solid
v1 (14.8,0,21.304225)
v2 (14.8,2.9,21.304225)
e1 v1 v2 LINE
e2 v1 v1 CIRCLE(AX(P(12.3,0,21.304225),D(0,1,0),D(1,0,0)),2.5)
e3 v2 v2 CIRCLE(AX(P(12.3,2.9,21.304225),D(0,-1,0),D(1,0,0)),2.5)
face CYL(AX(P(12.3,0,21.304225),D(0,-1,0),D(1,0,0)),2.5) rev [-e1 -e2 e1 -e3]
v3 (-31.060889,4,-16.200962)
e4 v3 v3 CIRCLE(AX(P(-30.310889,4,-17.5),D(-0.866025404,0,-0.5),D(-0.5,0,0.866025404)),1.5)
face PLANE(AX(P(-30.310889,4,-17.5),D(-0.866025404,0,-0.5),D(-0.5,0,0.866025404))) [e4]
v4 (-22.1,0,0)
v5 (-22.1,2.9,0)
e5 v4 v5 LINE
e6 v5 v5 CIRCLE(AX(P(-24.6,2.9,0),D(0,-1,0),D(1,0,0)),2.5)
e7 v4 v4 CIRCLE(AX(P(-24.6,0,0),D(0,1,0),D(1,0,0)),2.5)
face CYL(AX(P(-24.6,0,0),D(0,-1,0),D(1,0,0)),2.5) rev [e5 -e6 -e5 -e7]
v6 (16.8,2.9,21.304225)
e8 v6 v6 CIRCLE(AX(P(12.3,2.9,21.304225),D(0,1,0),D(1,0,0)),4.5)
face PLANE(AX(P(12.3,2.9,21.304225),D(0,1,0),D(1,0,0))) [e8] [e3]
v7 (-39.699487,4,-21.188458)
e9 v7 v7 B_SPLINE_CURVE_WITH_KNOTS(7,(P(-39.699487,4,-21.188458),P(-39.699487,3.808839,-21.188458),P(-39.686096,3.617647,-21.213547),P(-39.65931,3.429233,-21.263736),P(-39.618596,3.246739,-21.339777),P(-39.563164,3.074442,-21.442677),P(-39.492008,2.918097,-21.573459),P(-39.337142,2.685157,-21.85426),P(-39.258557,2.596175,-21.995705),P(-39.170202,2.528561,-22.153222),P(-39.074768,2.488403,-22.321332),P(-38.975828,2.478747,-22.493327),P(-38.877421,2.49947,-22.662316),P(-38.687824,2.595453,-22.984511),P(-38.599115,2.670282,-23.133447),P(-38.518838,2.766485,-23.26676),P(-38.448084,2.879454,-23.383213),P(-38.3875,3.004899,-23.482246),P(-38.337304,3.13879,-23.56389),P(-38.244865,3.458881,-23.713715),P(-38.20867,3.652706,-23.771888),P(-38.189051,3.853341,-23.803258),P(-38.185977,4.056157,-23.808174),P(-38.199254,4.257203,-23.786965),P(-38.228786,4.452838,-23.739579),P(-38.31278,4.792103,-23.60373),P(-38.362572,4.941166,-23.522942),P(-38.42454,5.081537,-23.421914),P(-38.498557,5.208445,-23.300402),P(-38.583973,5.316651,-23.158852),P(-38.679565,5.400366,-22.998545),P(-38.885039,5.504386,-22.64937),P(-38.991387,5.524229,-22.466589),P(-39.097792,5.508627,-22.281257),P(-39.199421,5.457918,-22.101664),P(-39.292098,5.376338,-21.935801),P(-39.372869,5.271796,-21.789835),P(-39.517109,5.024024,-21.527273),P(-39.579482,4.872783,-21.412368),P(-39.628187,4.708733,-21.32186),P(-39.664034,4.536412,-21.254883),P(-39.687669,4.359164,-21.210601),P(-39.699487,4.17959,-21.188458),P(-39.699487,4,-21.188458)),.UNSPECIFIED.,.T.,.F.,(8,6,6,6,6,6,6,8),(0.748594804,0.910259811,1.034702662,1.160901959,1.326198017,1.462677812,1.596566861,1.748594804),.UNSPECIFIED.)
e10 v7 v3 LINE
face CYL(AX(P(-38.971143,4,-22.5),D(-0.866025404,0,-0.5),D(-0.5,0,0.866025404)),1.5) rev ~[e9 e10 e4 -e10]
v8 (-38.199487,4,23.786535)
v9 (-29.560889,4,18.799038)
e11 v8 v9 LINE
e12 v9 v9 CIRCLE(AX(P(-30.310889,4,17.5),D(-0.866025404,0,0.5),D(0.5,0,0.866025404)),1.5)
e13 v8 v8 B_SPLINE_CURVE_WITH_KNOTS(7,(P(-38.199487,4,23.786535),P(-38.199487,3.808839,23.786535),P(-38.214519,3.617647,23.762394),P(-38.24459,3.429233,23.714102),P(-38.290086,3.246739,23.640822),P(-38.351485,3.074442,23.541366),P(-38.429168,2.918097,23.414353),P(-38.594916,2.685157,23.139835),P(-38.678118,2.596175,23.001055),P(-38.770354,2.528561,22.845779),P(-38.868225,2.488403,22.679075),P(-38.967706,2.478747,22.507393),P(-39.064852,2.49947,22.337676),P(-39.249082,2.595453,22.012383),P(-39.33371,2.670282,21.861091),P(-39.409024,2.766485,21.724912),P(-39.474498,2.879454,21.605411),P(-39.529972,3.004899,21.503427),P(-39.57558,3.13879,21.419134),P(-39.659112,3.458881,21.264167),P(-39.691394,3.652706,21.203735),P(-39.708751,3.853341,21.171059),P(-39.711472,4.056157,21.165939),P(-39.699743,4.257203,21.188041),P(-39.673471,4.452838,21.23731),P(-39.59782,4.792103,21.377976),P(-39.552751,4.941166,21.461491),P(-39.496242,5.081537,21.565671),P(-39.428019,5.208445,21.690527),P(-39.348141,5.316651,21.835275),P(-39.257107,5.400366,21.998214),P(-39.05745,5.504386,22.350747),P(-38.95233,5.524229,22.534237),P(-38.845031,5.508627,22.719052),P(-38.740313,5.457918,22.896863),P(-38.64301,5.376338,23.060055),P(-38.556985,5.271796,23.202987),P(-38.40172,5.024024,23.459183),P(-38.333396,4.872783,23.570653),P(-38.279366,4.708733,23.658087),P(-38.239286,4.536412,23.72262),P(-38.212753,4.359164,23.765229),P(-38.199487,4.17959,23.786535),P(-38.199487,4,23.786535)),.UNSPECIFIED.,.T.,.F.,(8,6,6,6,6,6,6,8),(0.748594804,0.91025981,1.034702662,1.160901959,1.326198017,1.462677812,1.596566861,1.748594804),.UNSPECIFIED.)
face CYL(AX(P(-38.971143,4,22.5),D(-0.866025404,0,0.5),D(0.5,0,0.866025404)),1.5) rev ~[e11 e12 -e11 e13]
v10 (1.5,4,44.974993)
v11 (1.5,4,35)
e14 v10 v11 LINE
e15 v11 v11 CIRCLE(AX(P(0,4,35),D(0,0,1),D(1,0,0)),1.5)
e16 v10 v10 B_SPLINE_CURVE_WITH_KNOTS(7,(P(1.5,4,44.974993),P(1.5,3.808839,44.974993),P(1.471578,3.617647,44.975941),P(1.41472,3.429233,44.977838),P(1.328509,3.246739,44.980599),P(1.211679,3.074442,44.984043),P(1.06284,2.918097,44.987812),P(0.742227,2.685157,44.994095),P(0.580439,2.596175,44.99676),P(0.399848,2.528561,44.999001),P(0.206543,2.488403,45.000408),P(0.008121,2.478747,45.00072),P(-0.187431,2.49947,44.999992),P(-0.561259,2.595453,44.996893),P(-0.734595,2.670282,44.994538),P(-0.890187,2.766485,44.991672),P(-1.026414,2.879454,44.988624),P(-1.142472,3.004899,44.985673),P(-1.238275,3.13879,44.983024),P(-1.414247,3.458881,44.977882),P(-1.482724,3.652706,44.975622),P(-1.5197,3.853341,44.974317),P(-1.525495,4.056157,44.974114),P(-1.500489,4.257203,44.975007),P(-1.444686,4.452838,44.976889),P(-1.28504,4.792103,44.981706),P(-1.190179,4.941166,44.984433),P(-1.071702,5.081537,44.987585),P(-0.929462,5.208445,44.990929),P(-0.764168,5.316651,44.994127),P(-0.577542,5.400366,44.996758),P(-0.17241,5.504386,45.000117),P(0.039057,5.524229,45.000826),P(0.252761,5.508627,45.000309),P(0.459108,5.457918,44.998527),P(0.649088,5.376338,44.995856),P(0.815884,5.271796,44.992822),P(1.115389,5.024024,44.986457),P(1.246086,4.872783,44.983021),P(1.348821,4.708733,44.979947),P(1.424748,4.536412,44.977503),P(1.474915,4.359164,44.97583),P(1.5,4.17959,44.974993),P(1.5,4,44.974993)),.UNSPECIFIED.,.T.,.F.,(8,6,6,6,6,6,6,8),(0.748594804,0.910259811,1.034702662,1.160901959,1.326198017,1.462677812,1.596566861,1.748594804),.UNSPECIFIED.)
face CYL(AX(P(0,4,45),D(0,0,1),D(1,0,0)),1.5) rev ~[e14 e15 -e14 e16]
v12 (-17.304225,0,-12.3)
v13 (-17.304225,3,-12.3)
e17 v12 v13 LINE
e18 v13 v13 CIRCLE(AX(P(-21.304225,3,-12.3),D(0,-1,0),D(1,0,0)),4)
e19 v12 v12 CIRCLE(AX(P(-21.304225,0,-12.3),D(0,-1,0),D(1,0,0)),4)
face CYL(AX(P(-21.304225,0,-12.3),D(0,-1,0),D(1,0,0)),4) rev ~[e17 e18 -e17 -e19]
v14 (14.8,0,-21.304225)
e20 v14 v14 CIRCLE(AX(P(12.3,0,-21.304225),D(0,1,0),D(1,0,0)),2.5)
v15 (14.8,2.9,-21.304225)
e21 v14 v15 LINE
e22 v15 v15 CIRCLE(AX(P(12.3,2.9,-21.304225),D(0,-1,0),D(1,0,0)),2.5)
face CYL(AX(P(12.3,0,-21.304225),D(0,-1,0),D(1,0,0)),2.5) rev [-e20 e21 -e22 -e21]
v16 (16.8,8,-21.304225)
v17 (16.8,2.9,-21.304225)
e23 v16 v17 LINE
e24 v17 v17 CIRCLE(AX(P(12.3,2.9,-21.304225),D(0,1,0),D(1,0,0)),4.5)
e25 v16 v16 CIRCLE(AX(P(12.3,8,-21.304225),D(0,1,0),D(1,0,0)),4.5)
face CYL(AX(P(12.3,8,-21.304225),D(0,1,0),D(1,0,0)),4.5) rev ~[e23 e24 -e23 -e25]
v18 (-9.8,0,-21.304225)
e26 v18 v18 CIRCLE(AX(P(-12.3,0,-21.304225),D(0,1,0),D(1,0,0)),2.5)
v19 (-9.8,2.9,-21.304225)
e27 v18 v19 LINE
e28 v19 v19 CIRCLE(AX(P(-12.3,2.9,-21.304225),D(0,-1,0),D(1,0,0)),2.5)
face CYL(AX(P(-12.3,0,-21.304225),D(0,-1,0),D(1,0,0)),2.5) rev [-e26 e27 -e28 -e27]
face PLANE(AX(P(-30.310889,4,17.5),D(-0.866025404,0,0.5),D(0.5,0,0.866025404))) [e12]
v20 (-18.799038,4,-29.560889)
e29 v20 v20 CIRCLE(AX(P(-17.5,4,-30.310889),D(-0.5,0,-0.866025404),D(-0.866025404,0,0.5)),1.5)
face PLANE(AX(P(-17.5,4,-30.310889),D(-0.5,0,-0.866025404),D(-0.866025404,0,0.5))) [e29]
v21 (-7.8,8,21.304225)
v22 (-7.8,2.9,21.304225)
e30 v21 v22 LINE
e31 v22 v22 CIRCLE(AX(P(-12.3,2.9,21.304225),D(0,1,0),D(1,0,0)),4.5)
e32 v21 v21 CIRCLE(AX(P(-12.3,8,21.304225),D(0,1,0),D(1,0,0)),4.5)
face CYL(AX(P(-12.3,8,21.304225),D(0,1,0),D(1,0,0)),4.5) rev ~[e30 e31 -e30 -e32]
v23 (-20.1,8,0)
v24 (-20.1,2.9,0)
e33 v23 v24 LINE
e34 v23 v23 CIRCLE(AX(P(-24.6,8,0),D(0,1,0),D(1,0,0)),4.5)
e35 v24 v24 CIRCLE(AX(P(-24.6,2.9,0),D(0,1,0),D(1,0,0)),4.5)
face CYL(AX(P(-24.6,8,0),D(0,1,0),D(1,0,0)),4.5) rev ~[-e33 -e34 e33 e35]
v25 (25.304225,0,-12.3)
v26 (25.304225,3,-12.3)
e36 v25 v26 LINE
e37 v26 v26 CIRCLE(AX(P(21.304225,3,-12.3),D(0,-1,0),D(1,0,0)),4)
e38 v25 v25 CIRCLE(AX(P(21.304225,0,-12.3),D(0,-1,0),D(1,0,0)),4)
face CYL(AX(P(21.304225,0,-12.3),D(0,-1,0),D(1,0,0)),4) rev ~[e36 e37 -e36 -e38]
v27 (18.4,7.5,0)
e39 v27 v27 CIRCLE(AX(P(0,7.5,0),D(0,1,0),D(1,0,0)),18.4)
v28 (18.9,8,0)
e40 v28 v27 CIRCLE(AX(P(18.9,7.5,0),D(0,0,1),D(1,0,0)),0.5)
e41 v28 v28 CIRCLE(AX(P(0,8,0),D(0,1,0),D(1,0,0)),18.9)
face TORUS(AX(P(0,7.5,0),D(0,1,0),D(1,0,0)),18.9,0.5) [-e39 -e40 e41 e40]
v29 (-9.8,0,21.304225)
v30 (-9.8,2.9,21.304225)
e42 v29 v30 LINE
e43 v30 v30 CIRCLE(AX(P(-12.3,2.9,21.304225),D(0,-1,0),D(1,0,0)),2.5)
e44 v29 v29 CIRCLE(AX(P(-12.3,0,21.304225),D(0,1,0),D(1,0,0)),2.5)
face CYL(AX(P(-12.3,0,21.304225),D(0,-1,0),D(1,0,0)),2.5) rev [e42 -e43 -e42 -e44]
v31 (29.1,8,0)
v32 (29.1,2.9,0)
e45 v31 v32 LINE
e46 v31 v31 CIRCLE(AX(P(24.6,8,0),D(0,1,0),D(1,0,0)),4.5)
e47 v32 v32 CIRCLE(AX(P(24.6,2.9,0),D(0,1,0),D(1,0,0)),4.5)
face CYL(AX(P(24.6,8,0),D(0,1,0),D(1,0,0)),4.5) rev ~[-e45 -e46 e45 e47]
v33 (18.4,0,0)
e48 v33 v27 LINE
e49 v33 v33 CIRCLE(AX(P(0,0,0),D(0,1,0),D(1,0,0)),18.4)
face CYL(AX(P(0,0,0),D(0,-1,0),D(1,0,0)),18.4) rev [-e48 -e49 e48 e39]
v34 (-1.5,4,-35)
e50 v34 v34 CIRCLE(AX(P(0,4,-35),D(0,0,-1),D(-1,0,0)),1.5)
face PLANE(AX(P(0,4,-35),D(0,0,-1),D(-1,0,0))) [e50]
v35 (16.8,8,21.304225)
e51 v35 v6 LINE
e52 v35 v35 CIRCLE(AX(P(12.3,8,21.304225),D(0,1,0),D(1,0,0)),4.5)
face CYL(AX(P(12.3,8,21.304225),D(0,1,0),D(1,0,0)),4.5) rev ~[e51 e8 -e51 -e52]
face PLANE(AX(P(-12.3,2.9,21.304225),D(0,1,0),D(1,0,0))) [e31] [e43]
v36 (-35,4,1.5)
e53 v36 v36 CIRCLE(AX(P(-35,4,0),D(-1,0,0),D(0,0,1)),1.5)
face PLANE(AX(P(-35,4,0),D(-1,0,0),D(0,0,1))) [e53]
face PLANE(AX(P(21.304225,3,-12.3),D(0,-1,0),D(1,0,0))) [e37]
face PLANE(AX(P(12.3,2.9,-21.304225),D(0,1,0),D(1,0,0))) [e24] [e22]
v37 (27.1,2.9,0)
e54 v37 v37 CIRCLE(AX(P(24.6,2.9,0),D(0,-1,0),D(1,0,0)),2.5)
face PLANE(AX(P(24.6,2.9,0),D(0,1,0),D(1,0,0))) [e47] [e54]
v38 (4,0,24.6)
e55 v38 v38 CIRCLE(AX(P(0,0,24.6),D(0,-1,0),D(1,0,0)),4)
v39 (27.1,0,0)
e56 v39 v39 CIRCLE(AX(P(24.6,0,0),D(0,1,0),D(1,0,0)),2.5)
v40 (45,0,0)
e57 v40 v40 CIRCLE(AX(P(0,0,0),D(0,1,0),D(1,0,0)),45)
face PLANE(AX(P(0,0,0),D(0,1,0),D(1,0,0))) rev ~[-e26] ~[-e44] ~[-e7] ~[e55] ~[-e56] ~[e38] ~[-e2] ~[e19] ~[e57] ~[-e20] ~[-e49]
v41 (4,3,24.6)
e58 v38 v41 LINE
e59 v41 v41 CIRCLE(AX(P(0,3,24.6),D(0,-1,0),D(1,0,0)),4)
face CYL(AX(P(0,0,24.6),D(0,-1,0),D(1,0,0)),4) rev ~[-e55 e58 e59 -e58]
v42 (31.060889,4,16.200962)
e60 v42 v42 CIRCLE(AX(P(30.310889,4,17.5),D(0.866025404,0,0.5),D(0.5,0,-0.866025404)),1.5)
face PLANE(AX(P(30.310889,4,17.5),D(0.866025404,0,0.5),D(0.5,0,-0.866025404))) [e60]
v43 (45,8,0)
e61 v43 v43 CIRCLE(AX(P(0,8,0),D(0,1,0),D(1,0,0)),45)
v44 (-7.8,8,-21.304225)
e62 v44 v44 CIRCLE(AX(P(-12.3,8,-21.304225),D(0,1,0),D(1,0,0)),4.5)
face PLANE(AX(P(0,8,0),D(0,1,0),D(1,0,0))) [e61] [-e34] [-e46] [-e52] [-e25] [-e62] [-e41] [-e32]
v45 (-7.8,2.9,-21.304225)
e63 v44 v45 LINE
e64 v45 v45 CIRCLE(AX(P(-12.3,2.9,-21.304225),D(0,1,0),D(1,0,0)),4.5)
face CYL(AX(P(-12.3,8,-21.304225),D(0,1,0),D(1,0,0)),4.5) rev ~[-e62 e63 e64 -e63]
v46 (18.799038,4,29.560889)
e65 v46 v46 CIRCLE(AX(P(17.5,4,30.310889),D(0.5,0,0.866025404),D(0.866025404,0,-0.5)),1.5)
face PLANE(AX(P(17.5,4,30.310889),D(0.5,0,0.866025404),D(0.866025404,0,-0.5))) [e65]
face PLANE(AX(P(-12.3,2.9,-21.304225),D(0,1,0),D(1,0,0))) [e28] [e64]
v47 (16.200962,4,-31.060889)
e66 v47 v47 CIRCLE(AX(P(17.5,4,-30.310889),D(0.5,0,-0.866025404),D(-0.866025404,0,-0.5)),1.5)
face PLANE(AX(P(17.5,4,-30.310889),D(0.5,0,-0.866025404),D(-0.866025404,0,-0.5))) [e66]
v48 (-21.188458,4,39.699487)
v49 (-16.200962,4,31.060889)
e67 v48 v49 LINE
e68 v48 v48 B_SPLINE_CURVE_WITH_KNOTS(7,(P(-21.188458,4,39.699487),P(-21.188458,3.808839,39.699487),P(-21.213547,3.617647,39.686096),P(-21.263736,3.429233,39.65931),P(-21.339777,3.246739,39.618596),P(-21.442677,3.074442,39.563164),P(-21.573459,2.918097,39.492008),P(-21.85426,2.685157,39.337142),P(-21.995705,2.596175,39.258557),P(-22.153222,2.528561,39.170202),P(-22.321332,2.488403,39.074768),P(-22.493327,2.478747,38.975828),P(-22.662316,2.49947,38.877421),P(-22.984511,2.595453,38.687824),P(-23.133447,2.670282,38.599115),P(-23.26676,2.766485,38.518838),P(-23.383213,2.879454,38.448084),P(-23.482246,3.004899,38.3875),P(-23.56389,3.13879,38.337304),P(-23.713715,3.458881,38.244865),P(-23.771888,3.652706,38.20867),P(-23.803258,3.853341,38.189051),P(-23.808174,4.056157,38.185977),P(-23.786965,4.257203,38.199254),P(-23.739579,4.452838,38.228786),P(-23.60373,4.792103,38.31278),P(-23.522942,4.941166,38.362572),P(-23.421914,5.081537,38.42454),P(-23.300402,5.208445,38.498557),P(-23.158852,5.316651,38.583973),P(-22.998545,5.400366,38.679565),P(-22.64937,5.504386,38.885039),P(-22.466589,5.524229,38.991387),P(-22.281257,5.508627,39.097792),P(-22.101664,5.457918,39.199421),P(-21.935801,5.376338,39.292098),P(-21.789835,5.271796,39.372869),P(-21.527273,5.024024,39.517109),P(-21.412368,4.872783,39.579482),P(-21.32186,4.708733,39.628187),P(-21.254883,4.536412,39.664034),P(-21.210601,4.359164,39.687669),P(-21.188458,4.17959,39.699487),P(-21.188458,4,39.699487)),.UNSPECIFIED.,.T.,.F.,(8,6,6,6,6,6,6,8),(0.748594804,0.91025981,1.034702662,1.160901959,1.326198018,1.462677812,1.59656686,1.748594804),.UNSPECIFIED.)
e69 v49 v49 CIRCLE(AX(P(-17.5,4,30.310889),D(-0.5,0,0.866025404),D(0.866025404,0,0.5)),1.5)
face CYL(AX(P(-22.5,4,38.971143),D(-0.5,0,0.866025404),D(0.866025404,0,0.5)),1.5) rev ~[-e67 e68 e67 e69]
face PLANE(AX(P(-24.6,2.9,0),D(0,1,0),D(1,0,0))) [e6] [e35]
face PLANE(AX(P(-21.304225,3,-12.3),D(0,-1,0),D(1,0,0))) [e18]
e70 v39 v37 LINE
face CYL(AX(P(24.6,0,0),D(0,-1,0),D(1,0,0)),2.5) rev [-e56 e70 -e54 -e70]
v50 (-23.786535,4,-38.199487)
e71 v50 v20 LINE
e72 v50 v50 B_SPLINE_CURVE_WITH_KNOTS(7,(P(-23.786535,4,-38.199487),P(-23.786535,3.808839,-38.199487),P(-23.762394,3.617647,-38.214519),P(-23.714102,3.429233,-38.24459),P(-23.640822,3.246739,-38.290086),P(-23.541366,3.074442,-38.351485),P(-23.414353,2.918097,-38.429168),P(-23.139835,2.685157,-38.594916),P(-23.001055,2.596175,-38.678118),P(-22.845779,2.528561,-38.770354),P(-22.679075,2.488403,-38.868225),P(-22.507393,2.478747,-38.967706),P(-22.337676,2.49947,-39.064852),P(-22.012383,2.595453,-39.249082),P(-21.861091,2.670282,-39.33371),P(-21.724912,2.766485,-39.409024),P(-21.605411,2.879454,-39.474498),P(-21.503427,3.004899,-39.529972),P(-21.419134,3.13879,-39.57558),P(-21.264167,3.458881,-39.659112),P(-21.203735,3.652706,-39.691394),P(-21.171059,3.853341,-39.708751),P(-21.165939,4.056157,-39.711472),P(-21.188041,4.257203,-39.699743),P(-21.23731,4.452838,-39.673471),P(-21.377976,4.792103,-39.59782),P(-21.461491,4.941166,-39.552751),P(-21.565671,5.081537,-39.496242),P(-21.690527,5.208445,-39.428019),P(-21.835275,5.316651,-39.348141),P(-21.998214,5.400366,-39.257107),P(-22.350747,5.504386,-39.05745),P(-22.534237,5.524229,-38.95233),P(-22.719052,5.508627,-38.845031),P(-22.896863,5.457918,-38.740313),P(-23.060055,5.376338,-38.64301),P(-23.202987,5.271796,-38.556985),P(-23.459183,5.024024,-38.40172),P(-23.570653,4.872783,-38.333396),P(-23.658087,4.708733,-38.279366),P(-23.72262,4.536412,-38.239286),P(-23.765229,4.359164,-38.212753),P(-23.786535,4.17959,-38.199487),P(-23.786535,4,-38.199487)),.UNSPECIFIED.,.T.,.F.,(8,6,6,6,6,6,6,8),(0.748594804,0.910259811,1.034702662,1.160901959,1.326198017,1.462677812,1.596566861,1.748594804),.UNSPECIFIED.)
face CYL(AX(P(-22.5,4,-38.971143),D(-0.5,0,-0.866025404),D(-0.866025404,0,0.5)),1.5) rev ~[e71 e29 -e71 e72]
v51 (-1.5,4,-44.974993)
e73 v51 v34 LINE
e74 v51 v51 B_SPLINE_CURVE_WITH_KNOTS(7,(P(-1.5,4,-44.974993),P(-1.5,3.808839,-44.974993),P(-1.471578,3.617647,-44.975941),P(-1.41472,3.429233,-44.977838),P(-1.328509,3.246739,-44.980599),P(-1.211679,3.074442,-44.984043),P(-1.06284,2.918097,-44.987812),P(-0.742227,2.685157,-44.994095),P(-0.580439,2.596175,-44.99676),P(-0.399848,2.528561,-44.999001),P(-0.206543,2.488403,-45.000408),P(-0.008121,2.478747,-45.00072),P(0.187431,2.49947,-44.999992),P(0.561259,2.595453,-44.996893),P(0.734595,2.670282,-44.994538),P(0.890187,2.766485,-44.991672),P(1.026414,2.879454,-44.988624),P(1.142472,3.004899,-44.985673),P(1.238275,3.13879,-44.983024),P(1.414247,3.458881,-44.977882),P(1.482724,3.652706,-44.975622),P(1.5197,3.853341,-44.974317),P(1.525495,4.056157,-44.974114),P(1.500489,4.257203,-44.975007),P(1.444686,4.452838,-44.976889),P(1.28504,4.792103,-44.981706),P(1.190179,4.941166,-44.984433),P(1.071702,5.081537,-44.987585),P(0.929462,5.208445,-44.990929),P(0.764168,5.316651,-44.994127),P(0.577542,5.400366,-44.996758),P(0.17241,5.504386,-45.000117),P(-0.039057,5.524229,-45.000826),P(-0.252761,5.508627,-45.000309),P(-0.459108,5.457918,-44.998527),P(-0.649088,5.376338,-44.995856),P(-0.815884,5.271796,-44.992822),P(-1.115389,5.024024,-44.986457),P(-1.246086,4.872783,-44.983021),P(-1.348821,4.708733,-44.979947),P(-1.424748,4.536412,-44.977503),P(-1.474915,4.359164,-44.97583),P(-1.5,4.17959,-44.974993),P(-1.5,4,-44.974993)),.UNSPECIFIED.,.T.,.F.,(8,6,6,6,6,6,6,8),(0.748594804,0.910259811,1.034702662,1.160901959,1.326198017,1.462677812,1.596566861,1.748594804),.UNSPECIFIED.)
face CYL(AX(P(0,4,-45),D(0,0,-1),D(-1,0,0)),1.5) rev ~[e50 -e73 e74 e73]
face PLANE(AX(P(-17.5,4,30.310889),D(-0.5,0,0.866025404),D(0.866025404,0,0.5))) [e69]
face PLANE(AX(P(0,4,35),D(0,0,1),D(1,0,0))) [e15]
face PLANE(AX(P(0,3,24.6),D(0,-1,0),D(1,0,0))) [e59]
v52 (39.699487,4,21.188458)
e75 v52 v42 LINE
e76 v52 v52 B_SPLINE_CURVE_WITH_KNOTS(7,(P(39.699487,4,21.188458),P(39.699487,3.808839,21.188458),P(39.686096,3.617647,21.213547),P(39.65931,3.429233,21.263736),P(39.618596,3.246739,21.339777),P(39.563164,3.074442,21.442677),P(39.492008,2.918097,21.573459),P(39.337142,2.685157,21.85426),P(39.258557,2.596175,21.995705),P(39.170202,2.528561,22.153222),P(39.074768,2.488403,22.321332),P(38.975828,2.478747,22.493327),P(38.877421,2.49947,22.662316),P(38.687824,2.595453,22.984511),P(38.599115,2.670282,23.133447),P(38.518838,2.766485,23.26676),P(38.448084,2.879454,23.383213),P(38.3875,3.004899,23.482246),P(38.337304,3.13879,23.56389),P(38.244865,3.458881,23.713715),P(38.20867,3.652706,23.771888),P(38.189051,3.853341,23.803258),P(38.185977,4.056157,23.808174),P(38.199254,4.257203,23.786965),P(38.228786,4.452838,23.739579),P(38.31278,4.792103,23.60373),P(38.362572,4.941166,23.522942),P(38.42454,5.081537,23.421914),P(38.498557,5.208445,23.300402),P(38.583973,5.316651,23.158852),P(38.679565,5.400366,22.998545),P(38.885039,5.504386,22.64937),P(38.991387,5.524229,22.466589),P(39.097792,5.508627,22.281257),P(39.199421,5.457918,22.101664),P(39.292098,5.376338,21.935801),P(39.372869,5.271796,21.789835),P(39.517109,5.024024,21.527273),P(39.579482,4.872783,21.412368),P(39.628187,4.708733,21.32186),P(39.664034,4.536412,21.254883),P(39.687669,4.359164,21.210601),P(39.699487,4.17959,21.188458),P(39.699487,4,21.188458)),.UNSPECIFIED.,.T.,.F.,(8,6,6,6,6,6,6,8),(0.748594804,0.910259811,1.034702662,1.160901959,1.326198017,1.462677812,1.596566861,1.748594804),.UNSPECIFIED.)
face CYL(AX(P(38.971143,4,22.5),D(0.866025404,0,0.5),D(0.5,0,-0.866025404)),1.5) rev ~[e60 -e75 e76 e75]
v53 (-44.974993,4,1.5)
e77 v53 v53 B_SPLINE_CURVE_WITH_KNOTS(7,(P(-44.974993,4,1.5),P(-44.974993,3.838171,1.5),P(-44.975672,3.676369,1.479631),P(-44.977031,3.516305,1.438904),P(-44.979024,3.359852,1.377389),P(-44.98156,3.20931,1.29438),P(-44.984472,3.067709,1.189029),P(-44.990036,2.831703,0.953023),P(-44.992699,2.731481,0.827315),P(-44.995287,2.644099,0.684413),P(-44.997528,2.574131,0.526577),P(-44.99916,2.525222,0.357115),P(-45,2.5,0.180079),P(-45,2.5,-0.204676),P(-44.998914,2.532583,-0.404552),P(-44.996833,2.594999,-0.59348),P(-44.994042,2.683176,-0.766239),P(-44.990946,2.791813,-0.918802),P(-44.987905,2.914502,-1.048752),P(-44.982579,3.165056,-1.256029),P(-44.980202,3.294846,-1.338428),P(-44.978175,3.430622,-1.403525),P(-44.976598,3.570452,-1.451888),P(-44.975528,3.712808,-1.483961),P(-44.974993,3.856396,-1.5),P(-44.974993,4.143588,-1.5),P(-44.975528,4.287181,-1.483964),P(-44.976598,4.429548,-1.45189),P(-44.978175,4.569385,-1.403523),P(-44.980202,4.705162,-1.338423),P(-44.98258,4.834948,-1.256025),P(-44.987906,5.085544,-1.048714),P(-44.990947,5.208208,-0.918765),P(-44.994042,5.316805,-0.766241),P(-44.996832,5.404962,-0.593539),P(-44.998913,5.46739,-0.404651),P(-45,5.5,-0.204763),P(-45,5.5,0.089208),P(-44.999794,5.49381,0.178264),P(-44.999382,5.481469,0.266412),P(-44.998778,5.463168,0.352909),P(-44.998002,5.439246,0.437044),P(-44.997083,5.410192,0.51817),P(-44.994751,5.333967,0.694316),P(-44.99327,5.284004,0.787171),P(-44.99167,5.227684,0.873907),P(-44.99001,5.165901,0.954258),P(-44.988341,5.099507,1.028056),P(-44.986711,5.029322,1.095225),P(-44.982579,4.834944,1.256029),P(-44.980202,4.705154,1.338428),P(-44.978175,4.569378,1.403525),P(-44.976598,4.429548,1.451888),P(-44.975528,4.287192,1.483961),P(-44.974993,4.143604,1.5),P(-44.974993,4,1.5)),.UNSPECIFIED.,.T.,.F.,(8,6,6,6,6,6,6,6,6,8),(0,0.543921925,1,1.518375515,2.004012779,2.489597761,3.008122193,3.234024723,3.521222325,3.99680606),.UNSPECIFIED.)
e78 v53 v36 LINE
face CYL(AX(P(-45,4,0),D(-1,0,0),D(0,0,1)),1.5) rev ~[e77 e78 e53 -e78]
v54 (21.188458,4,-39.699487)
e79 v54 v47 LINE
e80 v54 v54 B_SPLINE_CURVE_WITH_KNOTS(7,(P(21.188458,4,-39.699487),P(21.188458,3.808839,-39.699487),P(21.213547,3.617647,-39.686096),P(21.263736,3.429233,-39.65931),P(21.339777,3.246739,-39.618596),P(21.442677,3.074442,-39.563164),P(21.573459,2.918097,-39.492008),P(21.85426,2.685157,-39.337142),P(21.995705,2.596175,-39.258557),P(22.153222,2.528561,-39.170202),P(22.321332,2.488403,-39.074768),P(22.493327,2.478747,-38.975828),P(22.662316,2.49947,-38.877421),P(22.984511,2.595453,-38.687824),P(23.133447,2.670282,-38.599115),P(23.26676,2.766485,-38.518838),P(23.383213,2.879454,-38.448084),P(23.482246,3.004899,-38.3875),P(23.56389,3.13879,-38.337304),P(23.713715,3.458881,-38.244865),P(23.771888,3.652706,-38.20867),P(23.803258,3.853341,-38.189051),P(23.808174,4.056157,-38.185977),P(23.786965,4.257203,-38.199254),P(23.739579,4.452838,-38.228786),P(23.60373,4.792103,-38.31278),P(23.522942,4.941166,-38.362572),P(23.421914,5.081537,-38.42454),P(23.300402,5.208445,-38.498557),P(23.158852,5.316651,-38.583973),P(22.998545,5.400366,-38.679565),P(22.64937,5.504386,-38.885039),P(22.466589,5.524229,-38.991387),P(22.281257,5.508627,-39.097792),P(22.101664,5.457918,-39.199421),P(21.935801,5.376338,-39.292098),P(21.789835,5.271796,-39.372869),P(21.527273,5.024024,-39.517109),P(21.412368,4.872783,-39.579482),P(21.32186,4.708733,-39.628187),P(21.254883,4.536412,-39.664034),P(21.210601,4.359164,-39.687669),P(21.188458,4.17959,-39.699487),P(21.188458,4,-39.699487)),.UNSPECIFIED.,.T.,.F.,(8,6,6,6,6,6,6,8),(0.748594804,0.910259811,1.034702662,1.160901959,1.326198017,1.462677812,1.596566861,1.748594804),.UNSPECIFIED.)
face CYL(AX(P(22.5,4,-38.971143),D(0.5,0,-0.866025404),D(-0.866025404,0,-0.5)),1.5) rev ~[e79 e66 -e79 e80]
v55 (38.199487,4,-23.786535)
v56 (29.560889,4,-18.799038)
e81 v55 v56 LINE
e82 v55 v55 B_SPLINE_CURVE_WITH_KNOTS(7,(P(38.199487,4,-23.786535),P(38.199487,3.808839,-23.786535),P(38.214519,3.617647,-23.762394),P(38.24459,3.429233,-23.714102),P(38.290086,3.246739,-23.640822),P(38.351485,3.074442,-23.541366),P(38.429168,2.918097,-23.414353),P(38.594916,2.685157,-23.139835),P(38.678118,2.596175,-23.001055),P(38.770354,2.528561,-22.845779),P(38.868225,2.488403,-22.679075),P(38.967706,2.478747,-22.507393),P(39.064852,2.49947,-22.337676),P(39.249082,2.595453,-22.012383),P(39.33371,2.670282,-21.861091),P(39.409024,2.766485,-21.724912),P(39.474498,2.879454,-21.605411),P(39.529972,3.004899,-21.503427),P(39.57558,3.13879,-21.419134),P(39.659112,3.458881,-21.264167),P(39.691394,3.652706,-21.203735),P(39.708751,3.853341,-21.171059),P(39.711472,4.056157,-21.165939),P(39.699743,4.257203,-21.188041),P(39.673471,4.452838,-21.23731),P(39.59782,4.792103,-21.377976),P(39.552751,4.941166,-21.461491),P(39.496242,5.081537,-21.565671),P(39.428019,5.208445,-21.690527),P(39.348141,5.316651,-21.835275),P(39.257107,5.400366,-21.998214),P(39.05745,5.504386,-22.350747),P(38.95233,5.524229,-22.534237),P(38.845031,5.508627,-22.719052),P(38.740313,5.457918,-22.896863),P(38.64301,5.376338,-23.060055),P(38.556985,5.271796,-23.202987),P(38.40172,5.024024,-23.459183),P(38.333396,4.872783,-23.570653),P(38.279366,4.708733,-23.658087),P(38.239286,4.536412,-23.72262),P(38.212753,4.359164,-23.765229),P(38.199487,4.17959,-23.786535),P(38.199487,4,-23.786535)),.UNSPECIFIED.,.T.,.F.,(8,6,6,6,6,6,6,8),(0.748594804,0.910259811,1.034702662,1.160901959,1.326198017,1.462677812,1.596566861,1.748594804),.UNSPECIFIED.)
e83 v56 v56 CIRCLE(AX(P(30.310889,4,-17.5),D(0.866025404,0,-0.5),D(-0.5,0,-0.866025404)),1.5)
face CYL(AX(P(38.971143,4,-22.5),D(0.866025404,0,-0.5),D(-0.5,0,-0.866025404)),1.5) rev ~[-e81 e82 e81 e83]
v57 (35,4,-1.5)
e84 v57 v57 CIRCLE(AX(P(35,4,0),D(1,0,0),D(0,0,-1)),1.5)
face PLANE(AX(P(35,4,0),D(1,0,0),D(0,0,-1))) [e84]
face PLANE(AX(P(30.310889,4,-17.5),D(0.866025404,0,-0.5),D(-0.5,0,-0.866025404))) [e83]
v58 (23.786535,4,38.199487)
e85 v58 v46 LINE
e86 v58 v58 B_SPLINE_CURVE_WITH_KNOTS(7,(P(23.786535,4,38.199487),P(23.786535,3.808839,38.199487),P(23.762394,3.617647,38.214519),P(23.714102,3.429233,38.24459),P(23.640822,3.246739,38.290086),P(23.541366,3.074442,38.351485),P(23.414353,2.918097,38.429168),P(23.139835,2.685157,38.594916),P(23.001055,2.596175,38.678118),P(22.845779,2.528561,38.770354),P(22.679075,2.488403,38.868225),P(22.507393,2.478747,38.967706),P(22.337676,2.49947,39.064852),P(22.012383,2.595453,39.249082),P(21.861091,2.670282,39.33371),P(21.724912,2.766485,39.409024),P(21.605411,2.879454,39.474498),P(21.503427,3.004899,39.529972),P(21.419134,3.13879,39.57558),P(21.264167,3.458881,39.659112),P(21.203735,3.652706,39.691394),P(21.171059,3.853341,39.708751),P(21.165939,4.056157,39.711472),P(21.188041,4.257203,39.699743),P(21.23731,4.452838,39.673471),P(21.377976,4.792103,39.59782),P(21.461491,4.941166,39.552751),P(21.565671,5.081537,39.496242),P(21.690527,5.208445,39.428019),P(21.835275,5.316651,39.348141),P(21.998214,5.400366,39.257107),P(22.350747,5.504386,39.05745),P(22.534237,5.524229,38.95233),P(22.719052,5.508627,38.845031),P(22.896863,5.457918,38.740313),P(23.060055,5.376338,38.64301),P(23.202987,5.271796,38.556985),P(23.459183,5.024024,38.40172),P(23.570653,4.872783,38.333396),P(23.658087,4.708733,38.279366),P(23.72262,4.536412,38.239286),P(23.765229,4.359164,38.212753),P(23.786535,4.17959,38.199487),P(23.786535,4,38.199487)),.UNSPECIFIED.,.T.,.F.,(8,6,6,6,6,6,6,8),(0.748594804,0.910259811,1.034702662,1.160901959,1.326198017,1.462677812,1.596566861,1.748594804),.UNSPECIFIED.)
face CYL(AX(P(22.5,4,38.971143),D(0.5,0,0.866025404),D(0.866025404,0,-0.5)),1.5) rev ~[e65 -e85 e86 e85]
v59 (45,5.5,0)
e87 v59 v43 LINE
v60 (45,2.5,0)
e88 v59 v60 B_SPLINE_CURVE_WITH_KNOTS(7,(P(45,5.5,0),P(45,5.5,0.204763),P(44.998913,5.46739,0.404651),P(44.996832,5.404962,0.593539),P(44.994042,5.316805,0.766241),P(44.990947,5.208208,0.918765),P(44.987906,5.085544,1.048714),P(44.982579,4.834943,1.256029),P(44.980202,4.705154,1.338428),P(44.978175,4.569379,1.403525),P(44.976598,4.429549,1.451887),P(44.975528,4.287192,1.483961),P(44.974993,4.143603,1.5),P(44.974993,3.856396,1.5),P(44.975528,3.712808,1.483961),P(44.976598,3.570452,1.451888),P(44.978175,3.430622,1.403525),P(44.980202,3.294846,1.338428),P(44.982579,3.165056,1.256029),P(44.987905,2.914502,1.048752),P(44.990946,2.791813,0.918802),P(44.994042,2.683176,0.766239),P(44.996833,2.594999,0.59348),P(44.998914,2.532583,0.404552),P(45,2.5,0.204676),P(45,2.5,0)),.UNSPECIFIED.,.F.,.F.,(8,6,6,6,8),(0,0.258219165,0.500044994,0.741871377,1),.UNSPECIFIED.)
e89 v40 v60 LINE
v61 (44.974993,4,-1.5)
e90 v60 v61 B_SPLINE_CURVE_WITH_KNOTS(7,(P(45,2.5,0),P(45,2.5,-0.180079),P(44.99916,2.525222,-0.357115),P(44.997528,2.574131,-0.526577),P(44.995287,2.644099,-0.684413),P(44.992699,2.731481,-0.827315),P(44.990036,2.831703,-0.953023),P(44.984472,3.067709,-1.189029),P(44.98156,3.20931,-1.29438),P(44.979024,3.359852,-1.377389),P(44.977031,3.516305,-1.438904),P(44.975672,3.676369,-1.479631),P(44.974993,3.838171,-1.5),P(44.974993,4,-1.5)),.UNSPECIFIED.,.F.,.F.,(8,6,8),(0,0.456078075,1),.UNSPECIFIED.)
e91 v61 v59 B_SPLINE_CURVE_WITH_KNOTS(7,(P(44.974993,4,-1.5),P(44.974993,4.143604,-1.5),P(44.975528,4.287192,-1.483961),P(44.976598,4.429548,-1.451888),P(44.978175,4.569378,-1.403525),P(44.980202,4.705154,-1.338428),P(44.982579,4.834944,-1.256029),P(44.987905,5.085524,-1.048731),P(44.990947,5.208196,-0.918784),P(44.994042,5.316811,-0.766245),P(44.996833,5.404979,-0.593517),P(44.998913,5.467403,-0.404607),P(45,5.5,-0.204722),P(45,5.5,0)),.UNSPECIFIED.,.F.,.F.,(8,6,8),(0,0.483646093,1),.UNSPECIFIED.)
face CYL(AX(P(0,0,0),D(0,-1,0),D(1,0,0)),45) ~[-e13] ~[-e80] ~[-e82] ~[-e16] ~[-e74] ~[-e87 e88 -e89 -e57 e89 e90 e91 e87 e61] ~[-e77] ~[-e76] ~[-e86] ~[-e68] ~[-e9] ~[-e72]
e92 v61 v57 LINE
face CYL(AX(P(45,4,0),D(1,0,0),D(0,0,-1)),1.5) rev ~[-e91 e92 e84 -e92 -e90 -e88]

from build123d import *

# Parameters (mm, degrees)
SKETCH_1_R               = 45
SKETCH_1_R_2             = 2.5
SKETCH_1_R_3             = 18.4
EXTRUDE_1_DEPTH          = 8
SKETCH_2_R               = 4
CUT_EXTRUDE_1_DEPTH      = 3
SKETCH_4_R               = 4.5
CUT_EXTRUDE_2_DEPTH      = 5.1
SKETCH_5_R               = 1.5
CUT_EXTRUDE_3_DEPTH      = 10
PATTERN_CIRCULAR_1_COUNT = 12
FILLET_1_R               = 0.5


with BuildPart() as part:
    # 草图1 → 凸台-拉伸1 (new body)
    with BuildSketch(Plane(origin=(0, 0, 0), x_dir=(1, 0, 0), z_dir=(0, 1, 0))):
        Circle(SKETCH_1_R)
        with Locations((-24.6, 0)):
            Circle(SKETCH_1_R_2, mode=Mode.SUBTRACT)
        with Locations((-12.3, 21.304224933)):
            Circle(SKETCH_1_R_2, mode=Mode.SUBTRACT)
        with Locations((12.3, 21.304224933)):
            Circle(SKETCH_1_R_2, mode=Mode.SUBTRACT)
        with Locations((24.6, 0)):
            Circle(SKETCH_1_R_2, mode=Mode.SUBTRACT)
        with Locations((12.3, -21.304224933)):
            Circle(SKETCH_1_R_2, mode=Mode.SUBTRACT)
        with Locations((-12.3, -21.304224933)):
            Circle(SKETCH_1_R_2, mode=Mode.SUBTRACT)
        Circle(SKETCH_1_R_3, mode=Mode.SUBTRACT)
    extrude(amount=EXTRUDE_1_DEPTH)

    # 草图2 → 切除-拉伸1 (cut)
    with BuildSketch(Plane.XZ):
        with Locations((-21.304224933, -12.3)):
            Circle(SKETCH_2_R)
        with Locations((0, 24.6)):
            Circle(SKETCH_2_R)
        with Locations((21.304224933, -12.3)):
            Circle(SKETCH_2_R)
    extrude(amount=-CUT_EXTRUDE_1_DEPTH, mode=Mode.SUBTRACT)

    # 草图4 → 切除-拉伸2 (cut)
    with BuildSketch(Plane(origin=(0, 8, 0), x_dir=(1, 0, 0), z_dir=(0, 1, 0))):
        with Locations((-24.6, 0)):
            Circle(SKETCH_4_R)
        with Locations((-12.3, 21.304224933)):
            Circle(SKETCH_4_R)
        with Locations((12.3, 21.304224933)):
            Circle(SKETCH_4_R)
        with Locations((24.6, 0)):
            Circle(SKETCH_4_R)
        with Locations((12.3, -21.304224933)):
            Circle(SKETCH_4_R)
        with Locations((-12.3, -21.304224933)):
            Circle(SKETCH_4_R)
    extrude(amount=-CUT_EXTRUDE_2_DEPTH, mode=Mode.SUBTRACT)

    # 草图5 → 切除-拉伸3 (cut)
    with BuildSketch(Plane(origin=(45, 0, 0), x_dir=(0, 0, -1), z_dir=(1, 0, 0))):
        with Locations((0, 4)):
            Circle(SKETCH_5_R)
    cut_extrude_3 = extrude(amount=-CUT_EXTRUDE_3_DEPTH, mode=Mode.SUBTRACT)

    # 阵列(圆周)1: 切除-拉伸3 ×12 about axis
    pattern_circular_1_axis = Axis((0, 0, 0), (0, 1, 0))
    for i in range(1, PATTERN_CIRCULAR_1_COUNT):
        add(cut_extrude_3.rotate(pattern_circular_1_axis, i * 360 / PATTERN_CIRCULAR_1_COUNT), mode=Mode.SUBTRACT)

    # 圆角1
    fillet_1_edges = [part.edges().sort_by_distance(p)[0] for p in [
        (-18.4, 8, 0),
    ]]
    fillet(fillet_1_edges, radius=FILLET_1_R)


solid = part.part
